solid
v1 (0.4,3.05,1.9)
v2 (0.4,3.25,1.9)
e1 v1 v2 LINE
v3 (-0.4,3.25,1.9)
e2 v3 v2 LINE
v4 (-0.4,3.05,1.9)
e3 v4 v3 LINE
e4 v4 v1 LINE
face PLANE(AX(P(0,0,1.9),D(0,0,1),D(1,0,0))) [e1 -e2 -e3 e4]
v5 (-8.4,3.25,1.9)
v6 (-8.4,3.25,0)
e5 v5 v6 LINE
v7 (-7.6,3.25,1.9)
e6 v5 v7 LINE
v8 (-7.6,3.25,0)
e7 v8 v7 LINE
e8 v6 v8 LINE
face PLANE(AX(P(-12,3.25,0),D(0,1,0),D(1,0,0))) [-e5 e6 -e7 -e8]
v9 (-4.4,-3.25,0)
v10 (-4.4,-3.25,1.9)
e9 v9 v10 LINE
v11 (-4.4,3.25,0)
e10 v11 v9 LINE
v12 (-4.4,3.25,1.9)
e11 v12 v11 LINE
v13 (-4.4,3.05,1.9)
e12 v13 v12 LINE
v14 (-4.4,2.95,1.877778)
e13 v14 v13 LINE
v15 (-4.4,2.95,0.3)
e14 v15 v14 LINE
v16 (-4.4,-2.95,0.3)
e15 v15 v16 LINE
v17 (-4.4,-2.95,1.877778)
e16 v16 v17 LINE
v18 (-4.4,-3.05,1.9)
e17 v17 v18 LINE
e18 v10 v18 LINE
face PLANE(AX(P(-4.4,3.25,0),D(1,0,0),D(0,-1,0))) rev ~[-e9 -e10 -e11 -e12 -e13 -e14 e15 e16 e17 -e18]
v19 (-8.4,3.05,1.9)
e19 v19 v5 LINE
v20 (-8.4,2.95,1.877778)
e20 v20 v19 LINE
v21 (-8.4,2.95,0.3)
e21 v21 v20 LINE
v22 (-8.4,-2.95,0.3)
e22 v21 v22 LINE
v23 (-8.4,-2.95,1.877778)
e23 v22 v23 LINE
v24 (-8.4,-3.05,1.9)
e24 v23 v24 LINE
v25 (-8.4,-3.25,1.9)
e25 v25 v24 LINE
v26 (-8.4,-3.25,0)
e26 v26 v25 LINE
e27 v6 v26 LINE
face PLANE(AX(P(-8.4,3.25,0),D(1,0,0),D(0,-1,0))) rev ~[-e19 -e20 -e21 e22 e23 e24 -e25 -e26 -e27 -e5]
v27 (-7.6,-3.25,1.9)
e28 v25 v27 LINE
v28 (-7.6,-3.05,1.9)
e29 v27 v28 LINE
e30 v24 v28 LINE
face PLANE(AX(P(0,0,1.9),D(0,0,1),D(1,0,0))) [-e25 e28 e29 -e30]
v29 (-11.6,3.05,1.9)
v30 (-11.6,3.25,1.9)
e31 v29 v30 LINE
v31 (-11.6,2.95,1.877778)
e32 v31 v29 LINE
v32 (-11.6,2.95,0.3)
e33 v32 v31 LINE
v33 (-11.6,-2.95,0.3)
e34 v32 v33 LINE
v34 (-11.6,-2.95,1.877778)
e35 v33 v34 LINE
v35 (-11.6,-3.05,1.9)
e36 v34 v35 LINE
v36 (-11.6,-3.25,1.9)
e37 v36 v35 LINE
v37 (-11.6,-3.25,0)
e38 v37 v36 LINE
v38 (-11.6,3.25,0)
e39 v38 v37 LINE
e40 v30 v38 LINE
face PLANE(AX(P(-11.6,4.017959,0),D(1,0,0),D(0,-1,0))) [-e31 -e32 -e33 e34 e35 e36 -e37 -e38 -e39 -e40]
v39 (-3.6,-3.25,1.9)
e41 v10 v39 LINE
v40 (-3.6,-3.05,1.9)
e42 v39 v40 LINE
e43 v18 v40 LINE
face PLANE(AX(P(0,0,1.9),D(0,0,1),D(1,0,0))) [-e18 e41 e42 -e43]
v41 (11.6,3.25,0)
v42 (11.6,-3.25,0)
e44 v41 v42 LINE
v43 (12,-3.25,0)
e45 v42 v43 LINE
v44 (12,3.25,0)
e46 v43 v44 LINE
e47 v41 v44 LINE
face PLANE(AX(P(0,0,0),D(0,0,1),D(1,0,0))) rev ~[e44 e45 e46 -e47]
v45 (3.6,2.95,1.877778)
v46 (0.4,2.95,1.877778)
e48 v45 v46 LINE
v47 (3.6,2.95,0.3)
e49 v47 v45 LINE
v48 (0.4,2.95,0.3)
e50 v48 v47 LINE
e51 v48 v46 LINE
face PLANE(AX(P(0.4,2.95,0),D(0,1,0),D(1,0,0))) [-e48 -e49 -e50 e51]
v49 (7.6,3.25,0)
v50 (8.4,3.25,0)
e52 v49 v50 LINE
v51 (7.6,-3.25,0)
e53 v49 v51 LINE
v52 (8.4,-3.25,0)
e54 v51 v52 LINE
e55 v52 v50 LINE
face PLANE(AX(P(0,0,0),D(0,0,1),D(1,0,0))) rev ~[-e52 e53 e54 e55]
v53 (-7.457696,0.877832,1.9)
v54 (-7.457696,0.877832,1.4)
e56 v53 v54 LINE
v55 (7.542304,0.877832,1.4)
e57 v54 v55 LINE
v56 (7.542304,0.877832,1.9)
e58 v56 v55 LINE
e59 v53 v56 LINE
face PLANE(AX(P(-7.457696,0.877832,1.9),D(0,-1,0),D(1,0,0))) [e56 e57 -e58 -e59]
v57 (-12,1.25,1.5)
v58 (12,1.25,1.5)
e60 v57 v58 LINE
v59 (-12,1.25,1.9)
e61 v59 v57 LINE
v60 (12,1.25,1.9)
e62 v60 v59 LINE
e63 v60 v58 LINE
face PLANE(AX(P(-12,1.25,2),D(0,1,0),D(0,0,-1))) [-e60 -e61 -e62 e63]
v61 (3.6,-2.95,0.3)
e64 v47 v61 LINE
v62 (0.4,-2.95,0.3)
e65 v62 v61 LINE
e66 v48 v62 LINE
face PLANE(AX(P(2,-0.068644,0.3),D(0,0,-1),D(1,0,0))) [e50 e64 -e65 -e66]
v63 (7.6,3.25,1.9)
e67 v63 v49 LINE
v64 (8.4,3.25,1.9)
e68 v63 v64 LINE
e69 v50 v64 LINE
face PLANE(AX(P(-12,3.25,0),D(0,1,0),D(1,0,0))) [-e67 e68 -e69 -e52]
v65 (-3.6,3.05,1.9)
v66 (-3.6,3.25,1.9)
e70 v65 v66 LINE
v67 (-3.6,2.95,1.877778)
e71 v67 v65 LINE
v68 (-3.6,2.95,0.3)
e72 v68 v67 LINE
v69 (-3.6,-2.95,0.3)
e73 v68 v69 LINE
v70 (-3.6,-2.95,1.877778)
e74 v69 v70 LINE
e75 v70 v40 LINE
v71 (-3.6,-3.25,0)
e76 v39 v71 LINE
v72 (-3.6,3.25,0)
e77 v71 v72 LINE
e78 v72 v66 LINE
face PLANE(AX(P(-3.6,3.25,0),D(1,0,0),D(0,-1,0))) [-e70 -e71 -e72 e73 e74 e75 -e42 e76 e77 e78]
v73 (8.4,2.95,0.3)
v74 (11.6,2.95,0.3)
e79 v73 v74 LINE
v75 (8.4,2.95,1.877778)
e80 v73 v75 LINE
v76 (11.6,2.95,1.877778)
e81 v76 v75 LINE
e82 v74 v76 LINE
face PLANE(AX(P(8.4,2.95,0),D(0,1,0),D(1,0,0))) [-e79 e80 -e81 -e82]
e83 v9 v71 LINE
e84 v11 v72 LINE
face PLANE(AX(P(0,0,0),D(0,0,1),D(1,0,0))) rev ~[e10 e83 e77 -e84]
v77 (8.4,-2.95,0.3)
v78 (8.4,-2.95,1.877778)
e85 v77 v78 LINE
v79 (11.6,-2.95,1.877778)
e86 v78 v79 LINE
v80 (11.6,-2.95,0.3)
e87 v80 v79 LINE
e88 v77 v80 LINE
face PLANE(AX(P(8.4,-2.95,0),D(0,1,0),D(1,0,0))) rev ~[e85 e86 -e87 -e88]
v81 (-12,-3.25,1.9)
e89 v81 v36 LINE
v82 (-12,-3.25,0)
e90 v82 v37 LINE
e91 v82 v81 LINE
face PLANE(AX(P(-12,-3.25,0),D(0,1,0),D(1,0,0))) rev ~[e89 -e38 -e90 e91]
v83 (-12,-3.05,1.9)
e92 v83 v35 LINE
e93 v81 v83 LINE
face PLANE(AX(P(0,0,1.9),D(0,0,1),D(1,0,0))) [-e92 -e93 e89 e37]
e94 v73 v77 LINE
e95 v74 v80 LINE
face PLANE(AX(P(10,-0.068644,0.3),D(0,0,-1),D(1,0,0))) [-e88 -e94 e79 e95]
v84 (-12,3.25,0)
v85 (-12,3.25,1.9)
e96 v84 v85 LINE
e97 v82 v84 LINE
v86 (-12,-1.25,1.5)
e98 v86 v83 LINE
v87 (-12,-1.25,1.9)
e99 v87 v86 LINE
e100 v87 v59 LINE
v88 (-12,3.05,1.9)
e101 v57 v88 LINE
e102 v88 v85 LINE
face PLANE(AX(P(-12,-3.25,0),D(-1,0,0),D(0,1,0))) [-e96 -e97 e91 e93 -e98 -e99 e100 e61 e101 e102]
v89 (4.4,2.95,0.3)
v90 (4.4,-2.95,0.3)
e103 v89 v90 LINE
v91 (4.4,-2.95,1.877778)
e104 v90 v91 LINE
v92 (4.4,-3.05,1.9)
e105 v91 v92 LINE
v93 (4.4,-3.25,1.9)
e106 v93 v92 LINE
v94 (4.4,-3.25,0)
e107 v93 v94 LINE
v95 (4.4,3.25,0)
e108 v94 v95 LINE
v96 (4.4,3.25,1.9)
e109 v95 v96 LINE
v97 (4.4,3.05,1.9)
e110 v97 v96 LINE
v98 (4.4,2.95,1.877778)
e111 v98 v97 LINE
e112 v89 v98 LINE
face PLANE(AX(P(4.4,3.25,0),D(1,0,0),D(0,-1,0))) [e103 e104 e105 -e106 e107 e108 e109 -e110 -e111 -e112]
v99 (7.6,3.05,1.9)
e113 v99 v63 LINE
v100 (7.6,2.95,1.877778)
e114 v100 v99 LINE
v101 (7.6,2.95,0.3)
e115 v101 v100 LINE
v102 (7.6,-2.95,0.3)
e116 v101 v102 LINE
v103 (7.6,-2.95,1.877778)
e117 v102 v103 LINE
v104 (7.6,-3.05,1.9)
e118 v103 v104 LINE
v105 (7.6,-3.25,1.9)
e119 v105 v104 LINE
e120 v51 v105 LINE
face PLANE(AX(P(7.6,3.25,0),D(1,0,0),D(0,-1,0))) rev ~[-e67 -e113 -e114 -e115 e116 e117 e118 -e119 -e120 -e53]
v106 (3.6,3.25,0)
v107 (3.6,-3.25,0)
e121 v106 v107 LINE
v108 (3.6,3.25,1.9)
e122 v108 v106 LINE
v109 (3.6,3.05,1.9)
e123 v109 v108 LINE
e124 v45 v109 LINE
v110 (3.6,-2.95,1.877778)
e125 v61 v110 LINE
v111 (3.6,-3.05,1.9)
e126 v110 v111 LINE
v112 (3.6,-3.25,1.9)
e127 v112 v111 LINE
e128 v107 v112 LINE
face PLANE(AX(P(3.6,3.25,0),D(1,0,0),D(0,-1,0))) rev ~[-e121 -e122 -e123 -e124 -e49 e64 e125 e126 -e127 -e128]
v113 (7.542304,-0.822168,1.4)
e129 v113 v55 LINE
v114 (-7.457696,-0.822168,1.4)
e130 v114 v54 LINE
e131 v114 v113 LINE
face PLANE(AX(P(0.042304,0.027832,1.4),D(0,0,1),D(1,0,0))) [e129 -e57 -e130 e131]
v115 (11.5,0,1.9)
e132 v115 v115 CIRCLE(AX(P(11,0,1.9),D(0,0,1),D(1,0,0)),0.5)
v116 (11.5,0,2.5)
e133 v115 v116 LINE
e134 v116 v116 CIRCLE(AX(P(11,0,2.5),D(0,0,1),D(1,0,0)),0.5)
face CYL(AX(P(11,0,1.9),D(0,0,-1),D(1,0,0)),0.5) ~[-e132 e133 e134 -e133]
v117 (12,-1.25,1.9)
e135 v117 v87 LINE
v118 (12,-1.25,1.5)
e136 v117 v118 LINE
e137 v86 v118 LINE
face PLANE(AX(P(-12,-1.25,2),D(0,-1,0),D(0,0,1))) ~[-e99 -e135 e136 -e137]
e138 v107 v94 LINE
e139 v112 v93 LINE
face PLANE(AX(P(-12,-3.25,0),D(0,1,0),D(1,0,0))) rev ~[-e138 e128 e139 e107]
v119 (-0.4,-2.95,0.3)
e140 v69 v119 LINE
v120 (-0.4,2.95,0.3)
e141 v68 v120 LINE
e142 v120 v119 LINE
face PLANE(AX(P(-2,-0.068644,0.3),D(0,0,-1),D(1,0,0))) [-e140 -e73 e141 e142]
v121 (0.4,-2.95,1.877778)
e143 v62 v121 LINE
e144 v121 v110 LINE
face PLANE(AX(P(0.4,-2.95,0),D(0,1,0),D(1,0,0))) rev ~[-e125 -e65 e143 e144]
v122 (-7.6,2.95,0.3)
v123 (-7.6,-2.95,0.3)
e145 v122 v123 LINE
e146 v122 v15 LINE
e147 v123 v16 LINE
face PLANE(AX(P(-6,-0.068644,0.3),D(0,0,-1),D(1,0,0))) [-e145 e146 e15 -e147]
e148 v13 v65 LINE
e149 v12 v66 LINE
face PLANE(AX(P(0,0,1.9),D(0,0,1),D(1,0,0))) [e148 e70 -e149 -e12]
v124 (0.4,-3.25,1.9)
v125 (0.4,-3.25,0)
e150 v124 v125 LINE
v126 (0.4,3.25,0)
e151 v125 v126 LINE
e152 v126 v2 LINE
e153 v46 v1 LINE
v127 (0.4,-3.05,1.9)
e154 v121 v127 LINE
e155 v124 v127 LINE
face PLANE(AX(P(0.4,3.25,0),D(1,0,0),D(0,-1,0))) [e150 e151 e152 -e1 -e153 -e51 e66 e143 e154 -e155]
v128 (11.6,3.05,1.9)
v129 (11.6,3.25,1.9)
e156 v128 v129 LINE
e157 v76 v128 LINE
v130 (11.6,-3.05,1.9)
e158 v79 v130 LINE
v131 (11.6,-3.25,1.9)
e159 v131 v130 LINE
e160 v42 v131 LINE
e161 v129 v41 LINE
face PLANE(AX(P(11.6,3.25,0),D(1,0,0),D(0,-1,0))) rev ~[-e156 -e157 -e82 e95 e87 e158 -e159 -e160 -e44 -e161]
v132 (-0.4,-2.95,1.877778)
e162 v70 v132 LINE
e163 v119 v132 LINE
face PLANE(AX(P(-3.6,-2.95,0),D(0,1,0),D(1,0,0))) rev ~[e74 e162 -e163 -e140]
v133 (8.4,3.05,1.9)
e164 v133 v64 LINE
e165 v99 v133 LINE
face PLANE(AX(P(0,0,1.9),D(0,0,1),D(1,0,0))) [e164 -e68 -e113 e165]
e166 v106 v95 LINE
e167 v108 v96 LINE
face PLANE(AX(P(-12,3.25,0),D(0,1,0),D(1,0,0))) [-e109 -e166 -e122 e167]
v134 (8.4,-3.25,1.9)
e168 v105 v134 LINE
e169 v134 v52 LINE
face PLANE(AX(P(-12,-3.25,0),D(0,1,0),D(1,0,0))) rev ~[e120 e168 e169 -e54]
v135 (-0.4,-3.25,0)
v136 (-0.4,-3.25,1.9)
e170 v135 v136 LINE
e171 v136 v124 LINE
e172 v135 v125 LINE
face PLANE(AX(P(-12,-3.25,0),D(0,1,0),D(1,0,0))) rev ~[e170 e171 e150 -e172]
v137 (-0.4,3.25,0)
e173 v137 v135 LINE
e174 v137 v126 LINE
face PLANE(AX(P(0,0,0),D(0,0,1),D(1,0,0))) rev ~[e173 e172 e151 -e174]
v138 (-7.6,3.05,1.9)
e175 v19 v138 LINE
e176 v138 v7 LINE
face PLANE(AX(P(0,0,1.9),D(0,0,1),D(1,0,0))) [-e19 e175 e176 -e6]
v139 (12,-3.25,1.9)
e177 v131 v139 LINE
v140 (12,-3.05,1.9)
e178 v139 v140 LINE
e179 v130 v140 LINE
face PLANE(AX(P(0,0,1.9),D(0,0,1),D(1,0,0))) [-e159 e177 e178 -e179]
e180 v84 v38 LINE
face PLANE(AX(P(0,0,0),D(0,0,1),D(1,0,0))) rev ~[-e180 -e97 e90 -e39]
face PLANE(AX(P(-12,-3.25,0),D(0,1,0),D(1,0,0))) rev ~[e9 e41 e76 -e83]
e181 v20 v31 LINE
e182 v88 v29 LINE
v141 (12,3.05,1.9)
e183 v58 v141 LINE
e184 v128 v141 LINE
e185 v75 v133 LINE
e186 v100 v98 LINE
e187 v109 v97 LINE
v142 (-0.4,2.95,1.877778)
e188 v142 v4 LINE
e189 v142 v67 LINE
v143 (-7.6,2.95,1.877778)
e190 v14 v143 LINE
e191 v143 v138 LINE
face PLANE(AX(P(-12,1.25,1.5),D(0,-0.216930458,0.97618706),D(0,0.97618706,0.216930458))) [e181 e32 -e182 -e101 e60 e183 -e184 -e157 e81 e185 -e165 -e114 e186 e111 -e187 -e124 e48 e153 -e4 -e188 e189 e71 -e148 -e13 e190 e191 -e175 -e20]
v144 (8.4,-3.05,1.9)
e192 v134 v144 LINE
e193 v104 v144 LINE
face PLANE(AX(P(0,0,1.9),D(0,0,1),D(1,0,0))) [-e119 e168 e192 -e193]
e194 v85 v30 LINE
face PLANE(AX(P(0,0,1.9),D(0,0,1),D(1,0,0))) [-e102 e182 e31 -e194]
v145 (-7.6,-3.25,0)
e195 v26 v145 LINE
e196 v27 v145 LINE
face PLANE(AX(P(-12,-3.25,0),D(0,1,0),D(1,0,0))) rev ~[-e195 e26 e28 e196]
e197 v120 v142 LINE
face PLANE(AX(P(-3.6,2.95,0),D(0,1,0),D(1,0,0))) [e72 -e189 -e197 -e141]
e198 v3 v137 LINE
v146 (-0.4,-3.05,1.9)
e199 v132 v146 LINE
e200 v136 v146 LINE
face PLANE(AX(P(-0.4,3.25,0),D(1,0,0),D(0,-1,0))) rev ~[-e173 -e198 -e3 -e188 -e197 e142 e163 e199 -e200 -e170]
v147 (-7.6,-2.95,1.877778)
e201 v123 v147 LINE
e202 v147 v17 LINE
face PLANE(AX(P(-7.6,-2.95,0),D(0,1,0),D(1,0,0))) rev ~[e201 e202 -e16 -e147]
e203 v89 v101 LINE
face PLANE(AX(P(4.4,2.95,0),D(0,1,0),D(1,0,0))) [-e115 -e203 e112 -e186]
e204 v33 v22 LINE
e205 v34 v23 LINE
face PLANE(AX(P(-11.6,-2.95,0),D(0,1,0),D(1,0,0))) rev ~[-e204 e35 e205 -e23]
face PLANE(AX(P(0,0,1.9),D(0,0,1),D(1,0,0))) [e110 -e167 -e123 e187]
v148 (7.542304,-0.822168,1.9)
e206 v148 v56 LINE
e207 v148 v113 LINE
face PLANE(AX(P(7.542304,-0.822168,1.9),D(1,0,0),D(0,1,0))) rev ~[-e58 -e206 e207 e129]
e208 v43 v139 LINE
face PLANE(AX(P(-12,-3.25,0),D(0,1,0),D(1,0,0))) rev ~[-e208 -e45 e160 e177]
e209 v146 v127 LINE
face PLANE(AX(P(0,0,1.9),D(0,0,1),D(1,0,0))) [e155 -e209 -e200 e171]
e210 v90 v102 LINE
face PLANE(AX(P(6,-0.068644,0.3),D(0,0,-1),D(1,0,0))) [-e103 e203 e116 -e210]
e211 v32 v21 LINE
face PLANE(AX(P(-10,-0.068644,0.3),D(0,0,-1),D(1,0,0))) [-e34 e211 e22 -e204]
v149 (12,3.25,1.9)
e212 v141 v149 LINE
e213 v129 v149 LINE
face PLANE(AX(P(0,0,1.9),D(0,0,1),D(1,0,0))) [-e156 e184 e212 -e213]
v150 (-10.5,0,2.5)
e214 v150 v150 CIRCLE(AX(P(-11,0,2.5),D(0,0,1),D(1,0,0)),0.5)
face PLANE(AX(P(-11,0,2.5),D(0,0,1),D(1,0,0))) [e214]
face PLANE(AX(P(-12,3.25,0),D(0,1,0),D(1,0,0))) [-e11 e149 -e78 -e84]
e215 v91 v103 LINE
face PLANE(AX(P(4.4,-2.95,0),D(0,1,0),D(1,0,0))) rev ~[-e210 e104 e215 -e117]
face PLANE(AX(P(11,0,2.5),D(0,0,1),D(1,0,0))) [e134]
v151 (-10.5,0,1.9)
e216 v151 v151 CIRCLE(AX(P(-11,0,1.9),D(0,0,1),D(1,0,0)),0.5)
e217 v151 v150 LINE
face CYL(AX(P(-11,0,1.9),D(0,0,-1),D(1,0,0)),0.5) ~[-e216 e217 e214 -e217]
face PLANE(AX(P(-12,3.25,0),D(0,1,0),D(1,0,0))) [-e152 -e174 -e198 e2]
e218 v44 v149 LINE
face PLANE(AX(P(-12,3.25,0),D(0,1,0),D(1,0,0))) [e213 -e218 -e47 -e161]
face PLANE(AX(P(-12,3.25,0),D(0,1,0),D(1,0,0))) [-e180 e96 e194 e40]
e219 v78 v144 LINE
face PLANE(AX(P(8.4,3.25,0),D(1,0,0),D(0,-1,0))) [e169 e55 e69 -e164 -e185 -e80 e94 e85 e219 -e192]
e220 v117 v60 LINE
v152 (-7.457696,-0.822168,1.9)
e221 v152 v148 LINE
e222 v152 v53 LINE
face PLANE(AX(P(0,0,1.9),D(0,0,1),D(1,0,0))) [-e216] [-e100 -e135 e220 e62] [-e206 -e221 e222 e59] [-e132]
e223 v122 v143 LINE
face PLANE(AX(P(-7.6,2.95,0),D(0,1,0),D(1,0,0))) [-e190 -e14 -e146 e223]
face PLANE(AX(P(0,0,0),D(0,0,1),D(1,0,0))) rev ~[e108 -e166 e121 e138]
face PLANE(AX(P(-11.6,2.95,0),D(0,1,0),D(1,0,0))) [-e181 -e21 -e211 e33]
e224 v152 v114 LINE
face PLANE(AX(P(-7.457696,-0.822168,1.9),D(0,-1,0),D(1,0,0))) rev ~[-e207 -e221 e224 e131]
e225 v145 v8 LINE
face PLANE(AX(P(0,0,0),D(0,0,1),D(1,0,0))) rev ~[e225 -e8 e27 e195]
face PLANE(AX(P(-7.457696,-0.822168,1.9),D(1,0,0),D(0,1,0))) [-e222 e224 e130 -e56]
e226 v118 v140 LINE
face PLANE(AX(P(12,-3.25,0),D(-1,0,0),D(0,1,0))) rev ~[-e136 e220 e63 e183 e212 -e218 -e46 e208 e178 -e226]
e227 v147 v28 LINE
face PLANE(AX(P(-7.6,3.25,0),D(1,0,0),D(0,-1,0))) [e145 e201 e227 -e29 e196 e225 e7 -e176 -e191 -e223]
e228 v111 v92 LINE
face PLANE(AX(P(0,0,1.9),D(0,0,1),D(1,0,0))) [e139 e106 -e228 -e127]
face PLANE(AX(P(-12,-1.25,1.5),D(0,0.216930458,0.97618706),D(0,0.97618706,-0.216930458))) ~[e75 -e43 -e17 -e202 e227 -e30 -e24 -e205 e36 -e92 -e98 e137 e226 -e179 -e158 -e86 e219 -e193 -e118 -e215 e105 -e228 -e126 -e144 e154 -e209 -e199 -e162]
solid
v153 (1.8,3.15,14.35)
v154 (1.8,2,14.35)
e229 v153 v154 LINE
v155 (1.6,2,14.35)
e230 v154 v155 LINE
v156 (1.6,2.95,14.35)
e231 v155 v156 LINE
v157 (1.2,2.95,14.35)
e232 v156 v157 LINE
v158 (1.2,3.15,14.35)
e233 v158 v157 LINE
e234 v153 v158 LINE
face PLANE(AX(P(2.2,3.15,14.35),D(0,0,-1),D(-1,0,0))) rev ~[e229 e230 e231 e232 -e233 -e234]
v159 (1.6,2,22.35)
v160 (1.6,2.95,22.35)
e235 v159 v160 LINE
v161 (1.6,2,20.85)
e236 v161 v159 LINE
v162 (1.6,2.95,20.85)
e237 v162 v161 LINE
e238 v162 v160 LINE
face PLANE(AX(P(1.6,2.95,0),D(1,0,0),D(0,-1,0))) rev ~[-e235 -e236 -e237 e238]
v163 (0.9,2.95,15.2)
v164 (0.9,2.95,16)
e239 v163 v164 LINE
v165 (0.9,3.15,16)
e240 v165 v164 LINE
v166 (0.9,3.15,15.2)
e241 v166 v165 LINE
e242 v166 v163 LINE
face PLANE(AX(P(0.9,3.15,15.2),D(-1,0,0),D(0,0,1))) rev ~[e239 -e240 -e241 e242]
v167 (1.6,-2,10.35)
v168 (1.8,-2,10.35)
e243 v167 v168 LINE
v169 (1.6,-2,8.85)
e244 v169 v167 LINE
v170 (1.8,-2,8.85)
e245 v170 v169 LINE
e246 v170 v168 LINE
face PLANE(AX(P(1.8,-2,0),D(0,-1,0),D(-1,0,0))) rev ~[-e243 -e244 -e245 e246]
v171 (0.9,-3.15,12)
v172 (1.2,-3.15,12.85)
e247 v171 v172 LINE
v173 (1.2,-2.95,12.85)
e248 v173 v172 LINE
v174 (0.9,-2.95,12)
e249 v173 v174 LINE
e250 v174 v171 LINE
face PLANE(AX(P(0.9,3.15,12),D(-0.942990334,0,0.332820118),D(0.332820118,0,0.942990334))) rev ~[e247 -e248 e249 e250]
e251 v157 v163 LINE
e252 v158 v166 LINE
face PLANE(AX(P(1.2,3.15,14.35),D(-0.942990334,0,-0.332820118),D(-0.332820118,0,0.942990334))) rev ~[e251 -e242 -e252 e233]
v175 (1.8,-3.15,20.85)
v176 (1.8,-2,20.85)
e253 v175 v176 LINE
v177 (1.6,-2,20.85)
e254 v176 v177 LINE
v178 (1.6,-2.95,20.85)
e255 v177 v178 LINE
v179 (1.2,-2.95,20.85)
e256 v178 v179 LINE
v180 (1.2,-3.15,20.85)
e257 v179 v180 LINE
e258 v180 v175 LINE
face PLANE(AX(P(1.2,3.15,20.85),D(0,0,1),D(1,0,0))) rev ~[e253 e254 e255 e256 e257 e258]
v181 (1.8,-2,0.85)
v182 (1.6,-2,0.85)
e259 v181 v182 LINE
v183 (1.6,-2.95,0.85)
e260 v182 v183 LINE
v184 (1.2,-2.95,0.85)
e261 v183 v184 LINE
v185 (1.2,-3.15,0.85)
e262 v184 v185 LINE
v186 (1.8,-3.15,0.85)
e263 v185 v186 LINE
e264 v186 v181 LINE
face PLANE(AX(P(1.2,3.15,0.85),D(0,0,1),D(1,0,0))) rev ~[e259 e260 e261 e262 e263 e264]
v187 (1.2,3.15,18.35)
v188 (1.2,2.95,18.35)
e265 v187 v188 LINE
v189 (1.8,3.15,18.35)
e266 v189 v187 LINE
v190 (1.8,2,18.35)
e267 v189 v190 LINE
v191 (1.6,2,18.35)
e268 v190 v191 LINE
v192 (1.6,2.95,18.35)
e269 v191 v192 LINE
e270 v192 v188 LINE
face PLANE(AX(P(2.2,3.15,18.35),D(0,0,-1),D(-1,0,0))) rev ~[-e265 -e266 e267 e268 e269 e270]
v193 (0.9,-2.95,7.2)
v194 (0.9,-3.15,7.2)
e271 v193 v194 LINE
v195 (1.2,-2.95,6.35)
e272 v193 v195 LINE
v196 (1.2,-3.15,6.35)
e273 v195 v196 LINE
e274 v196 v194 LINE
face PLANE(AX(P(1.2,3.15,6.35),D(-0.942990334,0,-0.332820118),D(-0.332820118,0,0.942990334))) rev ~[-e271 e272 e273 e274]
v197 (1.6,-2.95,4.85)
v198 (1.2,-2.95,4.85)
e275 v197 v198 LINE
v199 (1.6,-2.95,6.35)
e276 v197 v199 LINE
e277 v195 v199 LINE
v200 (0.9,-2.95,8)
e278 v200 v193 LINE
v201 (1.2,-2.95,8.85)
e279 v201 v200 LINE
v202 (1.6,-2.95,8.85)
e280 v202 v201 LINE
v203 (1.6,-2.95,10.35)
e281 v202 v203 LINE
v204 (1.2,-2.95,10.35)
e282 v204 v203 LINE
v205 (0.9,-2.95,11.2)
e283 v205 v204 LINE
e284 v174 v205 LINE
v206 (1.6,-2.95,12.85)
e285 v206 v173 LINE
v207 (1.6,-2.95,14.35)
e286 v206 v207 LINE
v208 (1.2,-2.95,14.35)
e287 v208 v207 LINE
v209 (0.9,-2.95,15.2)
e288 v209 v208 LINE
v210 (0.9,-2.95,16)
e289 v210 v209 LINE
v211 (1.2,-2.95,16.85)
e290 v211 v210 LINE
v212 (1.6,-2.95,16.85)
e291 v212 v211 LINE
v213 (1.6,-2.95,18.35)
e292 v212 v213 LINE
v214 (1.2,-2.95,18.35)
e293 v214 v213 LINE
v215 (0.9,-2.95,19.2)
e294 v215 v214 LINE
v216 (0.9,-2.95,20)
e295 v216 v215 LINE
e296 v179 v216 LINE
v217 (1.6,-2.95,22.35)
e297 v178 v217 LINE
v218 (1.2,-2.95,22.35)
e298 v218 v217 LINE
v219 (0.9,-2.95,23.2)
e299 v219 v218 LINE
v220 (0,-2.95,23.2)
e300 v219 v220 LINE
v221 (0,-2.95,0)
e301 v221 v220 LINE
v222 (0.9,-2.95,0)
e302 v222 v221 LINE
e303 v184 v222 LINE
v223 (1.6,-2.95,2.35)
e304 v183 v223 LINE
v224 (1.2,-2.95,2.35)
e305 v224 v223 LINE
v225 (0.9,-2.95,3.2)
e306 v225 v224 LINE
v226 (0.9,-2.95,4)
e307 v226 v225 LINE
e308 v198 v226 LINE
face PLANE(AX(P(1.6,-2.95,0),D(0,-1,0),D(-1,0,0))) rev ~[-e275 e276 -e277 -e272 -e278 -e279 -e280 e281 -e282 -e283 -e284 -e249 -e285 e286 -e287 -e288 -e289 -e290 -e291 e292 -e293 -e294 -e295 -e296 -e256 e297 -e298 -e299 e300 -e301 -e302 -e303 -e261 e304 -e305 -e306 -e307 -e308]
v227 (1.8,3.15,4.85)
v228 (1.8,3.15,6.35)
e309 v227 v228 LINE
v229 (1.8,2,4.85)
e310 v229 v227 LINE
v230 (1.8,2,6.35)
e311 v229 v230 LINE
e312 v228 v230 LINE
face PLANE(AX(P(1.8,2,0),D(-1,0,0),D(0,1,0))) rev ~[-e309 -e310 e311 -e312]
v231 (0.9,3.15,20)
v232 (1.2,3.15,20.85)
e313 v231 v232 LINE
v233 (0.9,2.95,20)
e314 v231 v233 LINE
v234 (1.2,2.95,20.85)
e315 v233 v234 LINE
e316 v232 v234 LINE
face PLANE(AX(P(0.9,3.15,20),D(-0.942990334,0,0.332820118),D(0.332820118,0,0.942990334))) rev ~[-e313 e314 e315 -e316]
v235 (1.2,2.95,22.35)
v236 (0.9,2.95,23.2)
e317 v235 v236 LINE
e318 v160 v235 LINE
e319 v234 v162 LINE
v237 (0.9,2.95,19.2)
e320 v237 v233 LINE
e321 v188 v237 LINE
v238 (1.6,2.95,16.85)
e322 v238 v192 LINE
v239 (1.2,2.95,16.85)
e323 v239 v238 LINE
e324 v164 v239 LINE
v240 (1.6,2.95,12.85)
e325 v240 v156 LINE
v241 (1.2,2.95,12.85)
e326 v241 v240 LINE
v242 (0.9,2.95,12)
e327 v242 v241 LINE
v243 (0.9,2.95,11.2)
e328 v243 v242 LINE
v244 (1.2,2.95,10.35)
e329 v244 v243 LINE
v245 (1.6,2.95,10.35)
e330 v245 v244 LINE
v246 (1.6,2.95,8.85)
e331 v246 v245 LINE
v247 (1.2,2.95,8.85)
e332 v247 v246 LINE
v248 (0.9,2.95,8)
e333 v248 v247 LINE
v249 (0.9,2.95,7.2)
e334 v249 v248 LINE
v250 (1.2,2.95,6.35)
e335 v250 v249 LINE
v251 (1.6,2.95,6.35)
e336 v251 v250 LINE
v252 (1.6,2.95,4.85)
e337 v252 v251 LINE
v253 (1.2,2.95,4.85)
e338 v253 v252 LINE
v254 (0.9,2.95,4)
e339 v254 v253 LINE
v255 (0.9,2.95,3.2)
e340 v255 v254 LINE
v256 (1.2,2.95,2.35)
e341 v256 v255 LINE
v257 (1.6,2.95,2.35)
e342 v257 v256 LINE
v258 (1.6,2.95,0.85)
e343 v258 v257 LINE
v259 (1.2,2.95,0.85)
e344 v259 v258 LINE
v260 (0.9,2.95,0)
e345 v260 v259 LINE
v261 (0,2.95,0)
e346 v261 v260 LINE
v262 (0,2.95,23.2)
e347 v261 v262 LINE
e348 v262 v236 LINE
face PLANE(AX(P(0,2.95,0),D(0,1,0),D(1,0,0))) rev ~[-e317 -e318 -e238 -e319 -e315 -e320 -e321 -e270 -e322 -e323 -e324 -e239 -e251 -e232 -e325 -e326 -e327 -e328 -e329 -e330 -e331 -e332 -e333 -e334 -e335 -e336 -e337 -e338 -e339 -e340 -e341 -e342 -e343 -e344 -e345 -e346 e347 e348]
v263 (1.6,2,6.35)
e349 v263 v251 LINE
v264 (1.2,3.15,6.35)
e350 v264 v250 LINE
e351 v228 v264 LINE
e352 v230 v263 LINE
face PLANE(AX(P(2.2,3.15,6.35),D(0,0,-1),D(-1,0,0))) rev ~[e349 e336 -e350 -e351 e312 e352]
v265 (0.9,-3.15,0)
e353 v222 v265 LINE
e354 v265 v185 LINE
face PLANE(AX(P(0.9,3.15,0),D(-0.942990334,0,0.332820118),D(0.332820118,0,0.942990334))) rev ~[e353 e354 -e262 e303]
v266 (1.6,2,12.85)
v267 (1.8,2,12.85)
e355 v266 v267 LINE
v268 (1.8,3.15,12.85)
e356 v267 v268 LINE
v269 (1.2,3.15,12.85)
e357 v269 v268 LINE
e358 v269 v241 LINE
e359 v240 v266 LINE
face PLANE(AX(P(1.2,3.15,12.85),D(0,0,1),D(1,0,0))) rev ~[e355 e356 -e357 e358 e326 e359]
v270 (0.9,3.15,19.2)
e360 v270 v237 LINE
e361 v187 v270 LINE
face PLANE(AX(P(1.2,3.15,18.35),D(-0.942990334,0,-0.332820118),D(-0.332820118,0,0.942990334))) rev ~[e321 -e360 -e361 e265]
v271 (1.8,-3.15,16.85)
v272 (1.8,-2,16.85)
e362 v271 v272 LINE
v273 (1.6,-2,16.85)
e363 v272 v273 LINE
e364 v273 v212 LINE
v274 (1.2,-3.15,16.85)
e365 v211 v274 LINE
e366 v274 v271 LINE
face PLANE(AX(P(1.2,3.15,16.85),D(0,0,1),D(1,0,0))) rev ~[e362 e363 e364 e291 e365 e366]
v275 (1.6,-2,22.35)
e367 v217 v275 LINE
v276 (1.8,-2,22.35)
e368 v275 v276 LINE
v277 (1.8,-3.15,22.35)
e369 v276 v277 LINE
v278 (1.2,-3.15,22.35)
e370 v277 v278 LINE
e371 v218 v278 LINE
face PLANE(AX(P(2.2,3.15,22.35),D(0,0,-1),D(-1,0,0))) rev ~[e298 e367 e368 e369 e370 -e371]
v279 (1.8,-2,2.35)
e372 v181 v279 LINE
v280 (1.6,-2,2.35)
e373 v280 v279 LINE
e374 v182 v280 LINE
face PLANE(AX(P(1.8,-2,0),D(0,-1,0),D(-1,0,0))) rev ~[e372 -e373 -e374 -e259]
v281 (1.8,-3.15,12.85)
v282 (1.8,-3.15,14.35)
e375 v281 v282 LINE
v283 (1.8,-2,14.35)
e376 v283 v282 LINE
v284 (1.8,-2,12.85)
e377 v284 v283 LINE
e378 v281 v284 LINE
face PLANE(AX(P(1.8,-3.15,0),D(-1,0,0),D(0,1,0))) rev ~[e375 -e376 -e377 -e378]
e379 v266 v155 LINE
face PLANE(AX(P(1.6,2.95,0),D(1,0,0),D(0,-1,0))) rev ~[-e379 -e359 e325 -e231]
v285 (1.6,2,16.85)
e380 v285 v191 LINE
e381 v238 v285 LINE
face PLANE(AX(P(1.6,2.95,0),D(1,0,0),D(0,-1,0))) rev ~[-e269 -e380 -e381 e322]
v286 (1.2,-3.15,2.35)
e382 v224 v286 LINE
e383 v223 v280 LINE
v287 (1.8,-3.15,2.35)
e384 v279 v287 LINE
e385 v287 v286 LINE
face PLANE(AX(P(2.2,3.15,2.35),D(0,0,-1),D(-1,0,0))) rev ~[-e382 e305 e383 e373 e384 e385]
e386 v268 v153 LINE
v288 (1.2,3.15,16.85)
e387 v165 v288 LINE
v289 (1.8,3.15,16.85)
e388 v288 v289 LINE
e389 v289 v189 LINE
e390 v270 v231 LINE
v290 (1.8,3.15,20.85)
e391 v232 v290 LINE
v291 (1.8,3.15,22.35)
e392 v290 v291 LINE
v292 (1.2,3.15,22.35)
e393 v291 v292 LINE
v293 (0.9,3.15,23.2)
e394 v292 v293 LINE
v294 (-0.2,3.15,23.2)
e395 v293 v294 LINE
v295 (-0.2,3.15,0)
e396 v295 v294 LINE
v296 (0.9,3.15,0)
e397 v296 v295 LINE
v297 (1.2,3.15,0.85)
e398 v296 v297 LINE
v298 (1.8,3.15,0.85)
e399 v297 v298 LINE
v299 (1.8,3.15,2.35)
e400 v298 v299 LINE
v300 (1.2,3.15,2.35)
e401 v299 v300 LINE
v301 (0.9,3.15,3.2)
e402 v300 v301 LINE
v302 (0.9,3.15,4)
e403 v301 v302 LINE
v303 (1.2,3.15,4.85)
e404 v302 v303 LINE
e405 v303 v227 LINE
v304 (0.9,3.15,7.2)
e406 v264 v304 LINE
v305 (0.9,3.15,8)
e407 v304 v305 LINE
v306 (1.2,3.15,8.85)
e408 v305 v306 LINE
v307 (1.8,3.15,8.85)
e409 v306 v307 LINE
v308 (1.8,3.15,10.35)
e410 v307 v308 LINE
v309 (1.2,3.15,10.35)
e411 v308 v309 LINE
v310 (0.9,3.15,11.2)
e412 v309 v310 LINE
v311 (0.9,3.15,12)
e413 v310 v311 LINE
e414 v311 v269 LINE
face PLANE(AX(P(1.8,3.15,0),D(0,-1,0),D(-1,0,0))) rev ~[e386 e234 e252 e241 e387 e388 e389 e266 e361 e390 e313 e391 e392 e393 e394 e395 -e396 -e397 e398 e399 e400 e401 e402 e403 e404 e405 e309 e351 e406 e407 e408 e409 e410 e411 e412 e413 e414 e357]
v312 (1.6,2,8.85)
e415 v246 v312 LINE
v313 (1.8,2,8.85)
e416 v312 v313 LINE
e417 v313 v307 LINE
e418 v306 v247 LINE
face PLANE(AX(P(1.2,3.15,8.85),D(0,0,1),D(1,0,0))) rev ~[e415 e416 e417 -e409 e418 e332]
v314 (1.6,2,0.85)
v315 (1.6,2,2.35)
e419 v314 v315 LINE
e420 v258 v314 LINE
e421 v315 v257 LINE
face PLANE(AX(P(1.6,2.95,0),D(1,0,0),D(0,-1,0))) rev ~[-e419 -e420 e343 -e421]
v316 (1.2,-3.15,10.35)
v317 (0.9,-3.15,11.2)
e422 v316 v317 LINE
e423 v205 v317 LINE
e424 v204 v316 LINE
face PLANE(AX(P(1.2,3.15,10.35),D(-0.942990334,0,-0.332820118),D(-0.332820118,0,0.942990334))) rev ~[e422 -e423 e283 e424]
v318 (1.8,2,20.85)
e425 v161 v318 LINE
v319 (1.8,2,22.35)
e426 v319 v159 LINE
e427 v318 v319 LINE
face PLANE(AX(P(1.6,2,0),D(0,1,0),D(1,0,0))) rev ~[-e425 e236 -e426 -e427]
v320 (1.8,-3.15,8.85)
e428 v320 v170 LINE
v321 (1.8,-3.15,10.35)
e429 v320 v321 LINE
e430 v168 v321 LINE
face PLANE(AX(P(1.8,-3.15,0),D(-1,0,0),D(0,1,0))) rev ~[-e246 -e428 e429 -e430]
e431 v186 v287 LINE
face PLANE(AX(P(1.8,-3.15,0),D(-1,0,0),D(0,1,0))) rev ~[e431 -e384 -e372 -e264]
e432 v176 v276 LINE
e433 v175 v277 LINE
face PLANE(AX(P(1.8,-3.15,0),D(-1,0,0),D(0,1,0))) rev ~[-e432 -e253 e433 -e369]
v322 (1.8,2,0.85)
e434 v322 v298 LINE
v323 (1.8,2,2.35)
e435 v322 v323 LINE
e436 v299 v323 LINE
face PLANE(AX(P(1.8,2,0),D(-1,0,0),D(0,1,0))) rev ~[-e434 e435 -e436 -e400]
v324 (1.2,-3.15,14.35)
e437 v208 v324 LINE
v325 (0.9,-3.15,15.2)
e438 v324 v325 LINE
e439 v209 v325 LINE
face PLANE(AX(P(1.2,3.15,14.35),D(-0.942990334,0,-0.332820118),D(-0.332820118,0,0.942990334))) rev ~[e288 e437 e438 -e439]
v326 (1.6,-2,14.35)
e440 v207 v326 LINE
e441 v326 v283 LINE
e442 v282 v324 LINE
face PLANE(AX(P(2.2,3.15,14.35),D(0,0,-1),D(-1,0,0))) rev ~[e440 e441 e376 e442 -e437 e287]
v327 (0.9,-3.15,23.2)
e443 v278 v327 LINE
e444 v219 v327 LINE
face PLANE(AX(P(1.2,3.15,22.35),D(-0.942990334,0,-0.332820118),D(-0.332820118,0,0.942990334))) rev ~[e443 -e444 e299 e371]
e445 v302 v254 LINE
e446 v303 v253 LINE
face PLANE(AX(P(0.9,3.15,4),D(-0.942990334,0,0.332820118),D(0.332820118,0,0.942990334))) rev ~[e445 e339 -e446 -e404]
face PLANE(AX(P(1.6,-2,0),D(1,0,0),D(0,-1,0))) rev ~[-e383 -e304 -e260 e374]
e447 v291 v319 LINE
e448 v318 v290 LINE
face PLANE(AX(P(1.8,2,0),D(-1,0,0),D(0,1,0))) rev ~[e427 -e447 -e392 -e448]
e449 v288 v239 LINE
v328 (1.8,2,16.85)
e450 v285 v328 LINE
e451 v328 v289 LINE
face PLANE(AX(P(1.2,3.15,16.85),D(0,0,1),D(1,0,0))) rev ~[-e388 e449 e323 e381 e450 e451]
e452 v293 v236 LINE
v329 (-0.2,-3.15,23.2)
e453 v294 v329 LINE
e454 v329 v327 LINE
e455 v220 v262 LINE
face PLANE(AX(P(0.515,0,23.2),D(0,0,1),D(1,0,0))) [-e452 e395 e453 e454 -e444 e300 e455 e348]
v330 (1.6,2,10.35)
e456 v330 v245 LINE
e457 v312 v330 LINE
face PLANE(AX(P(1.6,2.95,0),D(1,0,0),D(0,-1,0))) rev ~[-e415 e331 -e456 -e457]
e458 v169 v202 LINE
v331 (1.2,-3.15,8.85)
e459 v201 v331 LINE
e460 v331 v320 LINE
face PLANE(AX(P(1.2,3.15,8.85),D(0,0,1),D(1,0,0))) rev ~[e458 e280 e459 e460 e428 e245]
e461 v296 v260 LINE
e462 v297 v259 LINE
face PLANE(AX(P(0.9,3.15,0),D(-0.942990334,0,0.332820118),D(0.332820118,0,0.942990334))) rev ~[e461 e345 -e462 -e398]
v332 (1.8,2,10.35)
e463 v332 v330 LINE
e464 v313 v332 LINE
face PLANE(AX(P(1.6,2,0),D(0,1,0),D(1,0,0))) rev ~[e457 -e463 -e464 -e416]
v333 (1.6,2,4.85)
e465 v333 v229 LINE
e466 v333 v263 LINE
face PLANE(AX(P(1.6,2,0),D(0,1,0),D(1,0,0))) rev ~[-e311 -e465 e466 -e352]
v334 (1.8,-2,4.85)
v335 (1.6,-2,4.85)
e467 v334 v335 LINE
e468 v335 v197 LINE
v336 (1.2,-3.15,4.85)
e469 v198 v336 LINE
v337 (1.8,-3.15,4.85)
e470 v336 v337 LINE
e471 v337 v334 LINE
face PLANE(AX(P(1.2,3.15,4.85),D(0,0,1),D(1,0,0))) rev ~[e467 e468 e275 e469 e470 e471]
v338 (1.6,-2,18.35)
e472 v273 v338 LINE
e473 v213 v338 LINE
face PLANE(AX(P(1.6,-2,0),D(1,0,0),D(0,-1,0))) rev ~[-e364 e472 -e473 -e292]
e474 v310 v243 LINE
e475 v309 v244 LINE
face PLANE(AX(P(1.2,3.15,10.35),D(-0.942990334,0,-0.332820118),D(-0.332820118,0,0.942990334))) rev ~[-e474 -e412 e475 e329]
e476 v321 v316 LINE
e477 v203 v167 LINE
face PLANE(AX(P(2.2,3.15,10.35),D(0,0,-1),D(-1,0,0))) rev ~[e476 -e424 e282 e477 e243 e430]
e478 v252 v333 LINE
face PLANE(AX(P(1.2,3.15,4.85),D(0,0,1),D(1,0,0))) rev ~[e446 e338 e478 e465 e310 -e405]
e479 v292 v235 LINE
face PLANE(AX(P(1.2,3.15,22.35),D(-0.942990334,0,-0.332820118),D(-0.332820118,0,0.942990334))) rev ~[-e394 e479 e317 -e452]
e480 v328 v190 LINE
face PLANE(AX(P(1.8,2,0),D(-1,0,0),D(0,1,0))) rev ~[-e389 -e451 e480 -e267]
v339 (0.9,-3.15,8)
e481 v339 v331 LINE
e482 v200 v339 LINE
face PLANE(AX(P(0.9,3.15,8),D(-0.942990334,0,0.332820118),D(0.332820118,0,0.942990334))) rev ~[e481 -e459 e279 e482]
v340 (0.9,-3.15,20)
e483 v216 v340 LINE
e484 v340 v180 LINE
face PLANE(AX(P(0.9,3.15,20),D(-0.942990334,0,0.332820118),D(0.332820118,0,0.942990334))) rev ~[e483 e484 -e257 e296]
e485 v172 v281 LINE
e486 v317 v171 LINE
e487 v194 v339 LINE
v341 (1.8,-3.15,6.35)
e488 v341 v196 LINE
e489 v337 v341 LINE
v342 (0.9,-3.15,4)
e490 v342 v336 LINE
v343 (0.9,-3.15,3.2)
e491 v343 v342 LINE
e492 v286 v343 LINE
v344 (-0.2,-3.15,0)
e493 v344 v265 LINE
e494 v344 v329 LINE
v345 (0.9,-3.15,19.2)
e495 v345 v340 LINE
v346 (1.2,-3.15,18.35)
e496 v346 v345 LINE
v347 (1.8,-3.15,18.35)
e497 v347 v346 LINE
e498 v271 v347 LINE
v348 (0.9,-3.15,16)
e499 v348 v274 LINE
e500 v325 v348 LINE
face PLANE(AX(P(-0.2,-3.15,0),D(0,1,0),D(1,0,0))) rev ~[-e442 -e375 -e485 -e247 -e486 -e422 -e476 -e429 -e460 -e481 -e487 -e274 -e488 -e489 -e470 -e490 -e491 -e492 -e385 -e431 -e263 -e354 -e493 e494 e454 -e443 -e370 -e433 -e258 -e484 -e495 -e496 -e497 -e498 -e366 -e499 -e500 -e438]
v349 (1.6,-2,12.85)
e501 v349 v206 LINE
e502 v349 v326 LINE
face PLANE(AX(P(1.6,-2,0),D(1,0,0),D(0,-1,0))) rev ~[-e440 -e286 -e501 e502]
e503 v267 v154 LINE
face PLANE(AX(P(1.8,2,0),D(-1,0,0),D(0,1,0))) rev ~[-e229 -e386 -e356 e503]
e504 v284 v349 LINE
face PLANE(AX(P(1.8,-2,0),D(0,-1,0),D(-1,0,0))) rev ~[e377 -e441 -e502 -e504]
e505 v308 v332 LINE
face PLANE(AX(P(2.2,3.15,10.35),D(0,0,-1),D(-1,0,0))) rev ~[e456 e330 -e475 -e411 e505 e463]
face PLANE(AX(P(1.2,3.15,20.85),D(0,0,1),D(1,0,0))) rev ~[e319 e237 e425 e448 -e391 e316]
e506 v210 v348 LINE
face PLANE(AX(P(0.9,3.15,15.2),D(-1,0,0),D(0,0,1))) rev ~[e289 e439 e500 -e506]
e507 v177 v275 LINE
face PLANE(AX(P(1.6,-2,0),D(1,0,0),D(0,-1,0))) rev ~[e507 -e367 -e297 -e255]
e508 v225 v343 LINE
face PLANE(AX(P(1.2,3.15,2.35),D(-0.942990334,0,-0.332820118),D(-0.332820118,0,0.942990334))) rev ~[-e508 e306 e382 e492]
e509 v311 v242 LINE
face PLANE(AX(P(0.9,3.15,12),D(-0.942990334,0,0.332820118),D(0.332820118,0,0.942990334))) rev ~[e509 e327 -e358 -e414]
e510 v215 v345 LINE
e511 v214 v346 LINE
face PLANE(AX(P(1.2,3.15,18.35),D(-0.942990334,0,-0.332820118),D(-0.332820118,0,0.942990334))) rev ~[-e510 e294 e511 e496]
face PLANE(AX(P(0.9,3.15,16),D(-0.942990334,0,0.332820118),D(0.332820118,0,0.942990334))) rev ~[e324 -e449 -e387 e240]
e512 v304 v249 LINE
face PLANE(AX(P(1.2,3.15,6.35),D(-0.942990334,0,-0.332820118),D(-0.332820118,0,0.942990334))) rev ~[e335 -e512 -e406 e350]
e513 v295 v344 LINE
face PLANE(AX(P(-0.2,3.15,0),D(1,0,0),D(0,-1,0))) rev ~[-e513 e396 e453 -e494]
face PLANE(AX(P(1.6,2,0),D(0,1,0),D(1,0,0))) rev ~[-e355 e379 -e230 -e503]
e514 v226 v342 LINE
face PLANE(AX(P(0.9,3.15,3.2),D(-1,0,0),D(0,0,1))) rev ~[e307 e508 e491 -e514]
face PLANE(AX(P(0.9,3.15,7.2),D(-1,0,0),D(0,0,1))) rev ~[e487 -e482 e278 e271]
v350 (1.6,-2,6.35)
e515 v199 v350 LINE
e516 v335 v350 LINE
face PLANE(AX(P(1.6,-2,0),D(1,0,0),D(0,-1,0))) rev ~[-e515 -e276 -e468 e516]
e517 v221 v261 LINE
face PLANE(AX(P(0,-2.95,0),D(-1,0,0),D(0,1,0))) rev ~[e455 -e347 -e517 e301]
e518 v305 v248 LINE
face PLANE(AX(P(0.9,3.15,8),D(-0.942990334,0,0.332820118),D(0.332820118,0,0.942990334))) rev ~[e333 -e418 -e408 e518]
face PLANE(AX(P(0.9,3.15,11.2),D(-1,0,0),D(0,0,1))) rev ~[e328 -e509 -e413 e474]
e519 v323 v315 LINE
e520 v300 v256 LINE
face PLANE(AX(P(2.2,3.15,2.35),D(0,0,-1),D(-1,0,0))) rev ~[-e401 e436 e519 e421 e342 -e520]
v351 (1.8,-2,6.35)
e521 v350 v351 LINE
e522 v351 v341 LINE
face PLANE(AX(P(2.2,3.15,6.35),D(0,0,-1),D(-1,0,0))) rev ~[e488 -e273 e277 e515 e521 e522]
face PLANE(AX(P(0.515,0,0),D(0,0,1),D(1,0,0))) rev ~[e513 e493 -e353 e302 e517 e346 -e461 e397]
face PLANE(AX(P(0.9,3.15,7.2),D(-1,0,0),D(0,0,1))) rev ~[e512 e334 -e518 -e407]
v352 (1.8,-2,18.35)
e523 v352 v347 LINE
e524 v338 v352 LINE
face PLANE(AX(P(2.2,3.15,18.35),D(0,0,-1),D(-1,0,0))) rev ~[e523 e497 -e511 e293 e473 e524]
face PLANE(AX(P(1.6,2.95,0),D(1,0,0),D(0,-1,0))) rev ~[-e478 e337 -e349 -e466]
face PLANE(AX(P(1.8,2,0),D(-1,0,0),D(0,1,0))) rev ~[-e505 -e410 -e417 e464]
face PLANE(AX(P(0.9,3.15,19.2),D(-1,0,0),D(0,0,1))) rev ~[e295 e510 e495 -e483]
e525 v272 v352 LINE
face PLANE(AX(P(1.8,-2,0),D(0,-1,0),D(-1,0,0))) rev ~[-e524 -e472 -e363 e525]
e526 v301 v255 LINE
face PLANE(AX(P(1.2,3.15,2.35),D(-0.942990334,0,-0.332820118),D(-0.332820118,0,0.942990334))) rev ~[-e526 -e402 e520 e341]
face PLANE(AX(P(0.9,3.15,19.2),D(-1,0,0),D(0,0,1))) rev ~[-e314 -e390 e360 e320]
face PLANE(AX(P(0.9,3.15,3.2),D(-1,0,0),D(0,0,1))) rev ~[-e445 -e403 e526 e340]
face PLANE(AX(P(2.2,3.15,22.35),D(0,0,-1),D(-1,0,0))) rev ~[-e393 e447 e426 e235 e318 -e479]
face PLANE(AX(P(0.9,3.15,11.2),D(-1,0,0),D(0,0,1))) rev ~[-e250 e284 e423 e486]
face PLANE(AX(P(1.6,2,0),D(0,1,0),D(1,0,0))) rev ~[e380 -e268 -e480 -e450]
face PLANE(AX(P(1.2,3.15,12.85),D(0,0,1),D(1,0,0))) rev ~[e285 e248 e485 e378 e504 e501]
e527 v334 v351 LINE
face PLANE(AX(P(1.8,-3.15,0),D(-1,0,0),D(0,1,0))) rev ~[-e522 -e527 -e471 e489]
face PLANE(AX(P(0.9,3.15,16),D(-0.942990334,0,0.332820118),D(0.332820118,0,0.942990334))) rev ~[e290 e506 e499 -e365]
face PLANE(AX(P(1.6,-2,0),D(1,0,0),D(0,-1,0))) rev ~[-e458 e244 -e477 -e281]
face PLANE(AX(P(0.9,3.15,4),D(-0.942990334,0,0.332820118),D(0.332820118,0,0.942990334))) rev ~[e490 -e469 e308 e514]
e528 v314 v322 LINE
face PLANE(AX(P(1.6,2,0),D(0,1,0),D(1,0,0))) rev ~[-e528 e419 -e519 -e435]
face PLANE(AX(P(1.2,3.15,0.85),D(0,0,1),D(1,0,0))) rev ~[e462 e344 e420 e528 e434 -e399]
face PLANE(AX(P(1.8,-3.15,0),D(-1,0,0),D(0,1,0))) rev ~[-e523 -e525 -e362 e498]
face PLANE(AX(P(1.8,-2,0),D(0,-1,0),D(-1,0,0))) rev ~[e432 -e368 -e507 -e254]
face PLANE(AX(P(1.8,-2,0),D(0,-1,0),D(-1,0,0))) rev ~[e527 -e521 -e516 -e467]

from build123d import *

# Parameters (mm, degrees)
PAD002_DEPTH           = 23.2
POCKET004_DEPTH        = 6.301
LINEARPATTERN002_COUNT = 7
LINEARPATTERN002_PITCH = 4
SKETCH_W               = 24
SKETCH_H               = 6.5
PAD_DEPTH              = 1.9
POCKET_DEPTH           = 73.875242
SKETCH002_R            = 0.5
PAD001_DEPTH           = 0.6
SKETCH003_W            = 15
SKETCH003_H            = 1.7
POCKET001_DEPTH        = 0.5
SKETCH004_W            = 3.2
SKETCH004_H            = 8.173207
POCKET002_DEPTH        = 0.3
LINEARPATTERN_COUNT    = 6
LINEARPATTERN_PITCH    = 4
SKETCH005_W            = 3.2
SKETCH005_H            = 0.3
POCKET003_DEPTH        = 5
LINEARPATTERN001_COUNT = 6
LINEARPATTERN001_PITCH = 4


with BuildPart() as body001:
    # Sketch006 → Pad002 (new body)
    with BuildSketch(Plane.XY):
        Polygon((-0.2, 0), (-0.2, -3.15), (1.8, -3.15), (1.8, -2), (1.6, -2), (1.6, -2.95), (0, -2.95), (0, 0), (0, 2.95), (1.6, 2.95), (1.6, 2), (1.8, 2), (1.8, 3.15), (-0.2, 3.15), align=None)
    extrude(amount=PAD002_DEPTH)

    # Sketch007 (on Face13 of Pad002) → Pocket004 (cut, through all)
    with BuildSketch(Plane(origin=(0, 3.15, 0), x_dir=(-1, 0, 0), z_dir=(0, 1, 0))):
        Polygon((-2.3, 0), (-0.9, 0), (-1.2, 0.85), (-2.2, 0.85), (-2.2, 2.35), (-1.2, 2.35), (-0.9, 3.2), (-0.9, 4), (-2.3, 4), align=None)
    pocket004 = extrude(amount=-POCKET004_DEPTH, mode=Mode.SUBTRACT)

    # LinearPattern002: Pocket004 ×7
    with Locations(*[(0, 0, i * LINEARPATTERN002_PITCH) for i in range(1, LINEARPATTERN002_COUNT)]):
        add(pocket004, mode=Mode.SUBTRACT)


with BuildPart() as body:
    # Sketch → Pad (new body)
    with BuildSketch(Plane.XY):
        Rectangle(SKETCH_W, SKETCH_H)
    extrude(amount=PAD_DEPTH)

    # Sketch001 (on Face4 of Pad) → Pocket (cut, through all)
    with BuildSketch(Plane(origin=(-12, 0, 0), x_dir=(0, -1, 0), z_dir=(-1, 0, 0))):
        Polygon((-3.25, 2), (-1.25, 2), (-1.25, 1.5), (-3.05, 1.9), (-3.25, 1.9), align=None)
    pocket = extrude(amount=-POCKET_DEPTH, mode=Mode.SUBTRACT)

    # Mirrored: Pocket across Sketch001 V_Axis
    add(pocket.mirror(Plane(origin=(-12, 0, 0), x_dir=(-1, 0, 0), z_dir=(0, -1, 0))), mode=Mode.SUBTRACT)

    # Sketch002 (on Face8 of Mirrored) → Pad001 (join)
    with BuildSketch(Plane.XY.offset(1.9)):
        with Locations((-11, 0)):
            Circle(SKETCH002_R)
        with Locations((11, 0)):
            Circle(SKETCH002_R)
    extrude(amount=PAD001_DEPTH)

    # Sketch003 (on Face8 of Pad001) → Pocket001 (cut)
    with BuildSketch(Plane.XY.offset(1.9)):
        with Locations((0.042304, 0.027832)):
            Rectangle(SKETCH003_W, SKETCH003_H)
    extrude(amount=-POCKET001_DEPTH, mode=Mode.SUBTRACT)

    # Sketch004 (on Face4 of Pocket001) → Pocket002 (cut)
    with BuildSketch(Plane(origin=(0, 0, 0), x_dir=(1, 0, 0), z_dir=(0, 0, -1))):
        with Locations((-10, 0.068644)):
            Rectangle(SKETCH004_W, SKETCH004_H)
    pocket002 = extrude(amount=-POCKET002_DEPTH, mode=Mode.SUBTRACT)

    # LinearPattern: Pocket002 ×6
    with Locations(*[(i * LINEARPATTERN_PITCH, 0, 0) for i in range(1, LINEARPATTERN_COUNT)]):
        add(pocket002, mode=Mode.SUBTRACT)

    # Sketch005 (on Face6 of LinearPattern) → Pocket003 (cut)
    with BuildSketch(Plane(origin=(0, 0, 0), x_dir=(1, 0, 0), z_dir=(0, 0, -1))):
        with Locations((-10, 3.1)):
            Rectangle(SKETCH005_W, SKETCH005_H)
        with Locations((-10, -3.1)):
            Rectangle(SKETCH005_W, SKETCH005_H)
    pocket003 = extrude(amount=-POCKET003_DEPTH, mode=Mode.SUBTRACT)

    # LinearPattern001: Pocket003 ×6
    with Locations(*[(i * LINEARPATTERN001_PITCH, 0, 0) for i in range(1, LINEARPATTERN001_COUNT)]):
        add(pocket003, mode=Mode.SUBTRACT)


solid = Compound([body001.part, body.part])
